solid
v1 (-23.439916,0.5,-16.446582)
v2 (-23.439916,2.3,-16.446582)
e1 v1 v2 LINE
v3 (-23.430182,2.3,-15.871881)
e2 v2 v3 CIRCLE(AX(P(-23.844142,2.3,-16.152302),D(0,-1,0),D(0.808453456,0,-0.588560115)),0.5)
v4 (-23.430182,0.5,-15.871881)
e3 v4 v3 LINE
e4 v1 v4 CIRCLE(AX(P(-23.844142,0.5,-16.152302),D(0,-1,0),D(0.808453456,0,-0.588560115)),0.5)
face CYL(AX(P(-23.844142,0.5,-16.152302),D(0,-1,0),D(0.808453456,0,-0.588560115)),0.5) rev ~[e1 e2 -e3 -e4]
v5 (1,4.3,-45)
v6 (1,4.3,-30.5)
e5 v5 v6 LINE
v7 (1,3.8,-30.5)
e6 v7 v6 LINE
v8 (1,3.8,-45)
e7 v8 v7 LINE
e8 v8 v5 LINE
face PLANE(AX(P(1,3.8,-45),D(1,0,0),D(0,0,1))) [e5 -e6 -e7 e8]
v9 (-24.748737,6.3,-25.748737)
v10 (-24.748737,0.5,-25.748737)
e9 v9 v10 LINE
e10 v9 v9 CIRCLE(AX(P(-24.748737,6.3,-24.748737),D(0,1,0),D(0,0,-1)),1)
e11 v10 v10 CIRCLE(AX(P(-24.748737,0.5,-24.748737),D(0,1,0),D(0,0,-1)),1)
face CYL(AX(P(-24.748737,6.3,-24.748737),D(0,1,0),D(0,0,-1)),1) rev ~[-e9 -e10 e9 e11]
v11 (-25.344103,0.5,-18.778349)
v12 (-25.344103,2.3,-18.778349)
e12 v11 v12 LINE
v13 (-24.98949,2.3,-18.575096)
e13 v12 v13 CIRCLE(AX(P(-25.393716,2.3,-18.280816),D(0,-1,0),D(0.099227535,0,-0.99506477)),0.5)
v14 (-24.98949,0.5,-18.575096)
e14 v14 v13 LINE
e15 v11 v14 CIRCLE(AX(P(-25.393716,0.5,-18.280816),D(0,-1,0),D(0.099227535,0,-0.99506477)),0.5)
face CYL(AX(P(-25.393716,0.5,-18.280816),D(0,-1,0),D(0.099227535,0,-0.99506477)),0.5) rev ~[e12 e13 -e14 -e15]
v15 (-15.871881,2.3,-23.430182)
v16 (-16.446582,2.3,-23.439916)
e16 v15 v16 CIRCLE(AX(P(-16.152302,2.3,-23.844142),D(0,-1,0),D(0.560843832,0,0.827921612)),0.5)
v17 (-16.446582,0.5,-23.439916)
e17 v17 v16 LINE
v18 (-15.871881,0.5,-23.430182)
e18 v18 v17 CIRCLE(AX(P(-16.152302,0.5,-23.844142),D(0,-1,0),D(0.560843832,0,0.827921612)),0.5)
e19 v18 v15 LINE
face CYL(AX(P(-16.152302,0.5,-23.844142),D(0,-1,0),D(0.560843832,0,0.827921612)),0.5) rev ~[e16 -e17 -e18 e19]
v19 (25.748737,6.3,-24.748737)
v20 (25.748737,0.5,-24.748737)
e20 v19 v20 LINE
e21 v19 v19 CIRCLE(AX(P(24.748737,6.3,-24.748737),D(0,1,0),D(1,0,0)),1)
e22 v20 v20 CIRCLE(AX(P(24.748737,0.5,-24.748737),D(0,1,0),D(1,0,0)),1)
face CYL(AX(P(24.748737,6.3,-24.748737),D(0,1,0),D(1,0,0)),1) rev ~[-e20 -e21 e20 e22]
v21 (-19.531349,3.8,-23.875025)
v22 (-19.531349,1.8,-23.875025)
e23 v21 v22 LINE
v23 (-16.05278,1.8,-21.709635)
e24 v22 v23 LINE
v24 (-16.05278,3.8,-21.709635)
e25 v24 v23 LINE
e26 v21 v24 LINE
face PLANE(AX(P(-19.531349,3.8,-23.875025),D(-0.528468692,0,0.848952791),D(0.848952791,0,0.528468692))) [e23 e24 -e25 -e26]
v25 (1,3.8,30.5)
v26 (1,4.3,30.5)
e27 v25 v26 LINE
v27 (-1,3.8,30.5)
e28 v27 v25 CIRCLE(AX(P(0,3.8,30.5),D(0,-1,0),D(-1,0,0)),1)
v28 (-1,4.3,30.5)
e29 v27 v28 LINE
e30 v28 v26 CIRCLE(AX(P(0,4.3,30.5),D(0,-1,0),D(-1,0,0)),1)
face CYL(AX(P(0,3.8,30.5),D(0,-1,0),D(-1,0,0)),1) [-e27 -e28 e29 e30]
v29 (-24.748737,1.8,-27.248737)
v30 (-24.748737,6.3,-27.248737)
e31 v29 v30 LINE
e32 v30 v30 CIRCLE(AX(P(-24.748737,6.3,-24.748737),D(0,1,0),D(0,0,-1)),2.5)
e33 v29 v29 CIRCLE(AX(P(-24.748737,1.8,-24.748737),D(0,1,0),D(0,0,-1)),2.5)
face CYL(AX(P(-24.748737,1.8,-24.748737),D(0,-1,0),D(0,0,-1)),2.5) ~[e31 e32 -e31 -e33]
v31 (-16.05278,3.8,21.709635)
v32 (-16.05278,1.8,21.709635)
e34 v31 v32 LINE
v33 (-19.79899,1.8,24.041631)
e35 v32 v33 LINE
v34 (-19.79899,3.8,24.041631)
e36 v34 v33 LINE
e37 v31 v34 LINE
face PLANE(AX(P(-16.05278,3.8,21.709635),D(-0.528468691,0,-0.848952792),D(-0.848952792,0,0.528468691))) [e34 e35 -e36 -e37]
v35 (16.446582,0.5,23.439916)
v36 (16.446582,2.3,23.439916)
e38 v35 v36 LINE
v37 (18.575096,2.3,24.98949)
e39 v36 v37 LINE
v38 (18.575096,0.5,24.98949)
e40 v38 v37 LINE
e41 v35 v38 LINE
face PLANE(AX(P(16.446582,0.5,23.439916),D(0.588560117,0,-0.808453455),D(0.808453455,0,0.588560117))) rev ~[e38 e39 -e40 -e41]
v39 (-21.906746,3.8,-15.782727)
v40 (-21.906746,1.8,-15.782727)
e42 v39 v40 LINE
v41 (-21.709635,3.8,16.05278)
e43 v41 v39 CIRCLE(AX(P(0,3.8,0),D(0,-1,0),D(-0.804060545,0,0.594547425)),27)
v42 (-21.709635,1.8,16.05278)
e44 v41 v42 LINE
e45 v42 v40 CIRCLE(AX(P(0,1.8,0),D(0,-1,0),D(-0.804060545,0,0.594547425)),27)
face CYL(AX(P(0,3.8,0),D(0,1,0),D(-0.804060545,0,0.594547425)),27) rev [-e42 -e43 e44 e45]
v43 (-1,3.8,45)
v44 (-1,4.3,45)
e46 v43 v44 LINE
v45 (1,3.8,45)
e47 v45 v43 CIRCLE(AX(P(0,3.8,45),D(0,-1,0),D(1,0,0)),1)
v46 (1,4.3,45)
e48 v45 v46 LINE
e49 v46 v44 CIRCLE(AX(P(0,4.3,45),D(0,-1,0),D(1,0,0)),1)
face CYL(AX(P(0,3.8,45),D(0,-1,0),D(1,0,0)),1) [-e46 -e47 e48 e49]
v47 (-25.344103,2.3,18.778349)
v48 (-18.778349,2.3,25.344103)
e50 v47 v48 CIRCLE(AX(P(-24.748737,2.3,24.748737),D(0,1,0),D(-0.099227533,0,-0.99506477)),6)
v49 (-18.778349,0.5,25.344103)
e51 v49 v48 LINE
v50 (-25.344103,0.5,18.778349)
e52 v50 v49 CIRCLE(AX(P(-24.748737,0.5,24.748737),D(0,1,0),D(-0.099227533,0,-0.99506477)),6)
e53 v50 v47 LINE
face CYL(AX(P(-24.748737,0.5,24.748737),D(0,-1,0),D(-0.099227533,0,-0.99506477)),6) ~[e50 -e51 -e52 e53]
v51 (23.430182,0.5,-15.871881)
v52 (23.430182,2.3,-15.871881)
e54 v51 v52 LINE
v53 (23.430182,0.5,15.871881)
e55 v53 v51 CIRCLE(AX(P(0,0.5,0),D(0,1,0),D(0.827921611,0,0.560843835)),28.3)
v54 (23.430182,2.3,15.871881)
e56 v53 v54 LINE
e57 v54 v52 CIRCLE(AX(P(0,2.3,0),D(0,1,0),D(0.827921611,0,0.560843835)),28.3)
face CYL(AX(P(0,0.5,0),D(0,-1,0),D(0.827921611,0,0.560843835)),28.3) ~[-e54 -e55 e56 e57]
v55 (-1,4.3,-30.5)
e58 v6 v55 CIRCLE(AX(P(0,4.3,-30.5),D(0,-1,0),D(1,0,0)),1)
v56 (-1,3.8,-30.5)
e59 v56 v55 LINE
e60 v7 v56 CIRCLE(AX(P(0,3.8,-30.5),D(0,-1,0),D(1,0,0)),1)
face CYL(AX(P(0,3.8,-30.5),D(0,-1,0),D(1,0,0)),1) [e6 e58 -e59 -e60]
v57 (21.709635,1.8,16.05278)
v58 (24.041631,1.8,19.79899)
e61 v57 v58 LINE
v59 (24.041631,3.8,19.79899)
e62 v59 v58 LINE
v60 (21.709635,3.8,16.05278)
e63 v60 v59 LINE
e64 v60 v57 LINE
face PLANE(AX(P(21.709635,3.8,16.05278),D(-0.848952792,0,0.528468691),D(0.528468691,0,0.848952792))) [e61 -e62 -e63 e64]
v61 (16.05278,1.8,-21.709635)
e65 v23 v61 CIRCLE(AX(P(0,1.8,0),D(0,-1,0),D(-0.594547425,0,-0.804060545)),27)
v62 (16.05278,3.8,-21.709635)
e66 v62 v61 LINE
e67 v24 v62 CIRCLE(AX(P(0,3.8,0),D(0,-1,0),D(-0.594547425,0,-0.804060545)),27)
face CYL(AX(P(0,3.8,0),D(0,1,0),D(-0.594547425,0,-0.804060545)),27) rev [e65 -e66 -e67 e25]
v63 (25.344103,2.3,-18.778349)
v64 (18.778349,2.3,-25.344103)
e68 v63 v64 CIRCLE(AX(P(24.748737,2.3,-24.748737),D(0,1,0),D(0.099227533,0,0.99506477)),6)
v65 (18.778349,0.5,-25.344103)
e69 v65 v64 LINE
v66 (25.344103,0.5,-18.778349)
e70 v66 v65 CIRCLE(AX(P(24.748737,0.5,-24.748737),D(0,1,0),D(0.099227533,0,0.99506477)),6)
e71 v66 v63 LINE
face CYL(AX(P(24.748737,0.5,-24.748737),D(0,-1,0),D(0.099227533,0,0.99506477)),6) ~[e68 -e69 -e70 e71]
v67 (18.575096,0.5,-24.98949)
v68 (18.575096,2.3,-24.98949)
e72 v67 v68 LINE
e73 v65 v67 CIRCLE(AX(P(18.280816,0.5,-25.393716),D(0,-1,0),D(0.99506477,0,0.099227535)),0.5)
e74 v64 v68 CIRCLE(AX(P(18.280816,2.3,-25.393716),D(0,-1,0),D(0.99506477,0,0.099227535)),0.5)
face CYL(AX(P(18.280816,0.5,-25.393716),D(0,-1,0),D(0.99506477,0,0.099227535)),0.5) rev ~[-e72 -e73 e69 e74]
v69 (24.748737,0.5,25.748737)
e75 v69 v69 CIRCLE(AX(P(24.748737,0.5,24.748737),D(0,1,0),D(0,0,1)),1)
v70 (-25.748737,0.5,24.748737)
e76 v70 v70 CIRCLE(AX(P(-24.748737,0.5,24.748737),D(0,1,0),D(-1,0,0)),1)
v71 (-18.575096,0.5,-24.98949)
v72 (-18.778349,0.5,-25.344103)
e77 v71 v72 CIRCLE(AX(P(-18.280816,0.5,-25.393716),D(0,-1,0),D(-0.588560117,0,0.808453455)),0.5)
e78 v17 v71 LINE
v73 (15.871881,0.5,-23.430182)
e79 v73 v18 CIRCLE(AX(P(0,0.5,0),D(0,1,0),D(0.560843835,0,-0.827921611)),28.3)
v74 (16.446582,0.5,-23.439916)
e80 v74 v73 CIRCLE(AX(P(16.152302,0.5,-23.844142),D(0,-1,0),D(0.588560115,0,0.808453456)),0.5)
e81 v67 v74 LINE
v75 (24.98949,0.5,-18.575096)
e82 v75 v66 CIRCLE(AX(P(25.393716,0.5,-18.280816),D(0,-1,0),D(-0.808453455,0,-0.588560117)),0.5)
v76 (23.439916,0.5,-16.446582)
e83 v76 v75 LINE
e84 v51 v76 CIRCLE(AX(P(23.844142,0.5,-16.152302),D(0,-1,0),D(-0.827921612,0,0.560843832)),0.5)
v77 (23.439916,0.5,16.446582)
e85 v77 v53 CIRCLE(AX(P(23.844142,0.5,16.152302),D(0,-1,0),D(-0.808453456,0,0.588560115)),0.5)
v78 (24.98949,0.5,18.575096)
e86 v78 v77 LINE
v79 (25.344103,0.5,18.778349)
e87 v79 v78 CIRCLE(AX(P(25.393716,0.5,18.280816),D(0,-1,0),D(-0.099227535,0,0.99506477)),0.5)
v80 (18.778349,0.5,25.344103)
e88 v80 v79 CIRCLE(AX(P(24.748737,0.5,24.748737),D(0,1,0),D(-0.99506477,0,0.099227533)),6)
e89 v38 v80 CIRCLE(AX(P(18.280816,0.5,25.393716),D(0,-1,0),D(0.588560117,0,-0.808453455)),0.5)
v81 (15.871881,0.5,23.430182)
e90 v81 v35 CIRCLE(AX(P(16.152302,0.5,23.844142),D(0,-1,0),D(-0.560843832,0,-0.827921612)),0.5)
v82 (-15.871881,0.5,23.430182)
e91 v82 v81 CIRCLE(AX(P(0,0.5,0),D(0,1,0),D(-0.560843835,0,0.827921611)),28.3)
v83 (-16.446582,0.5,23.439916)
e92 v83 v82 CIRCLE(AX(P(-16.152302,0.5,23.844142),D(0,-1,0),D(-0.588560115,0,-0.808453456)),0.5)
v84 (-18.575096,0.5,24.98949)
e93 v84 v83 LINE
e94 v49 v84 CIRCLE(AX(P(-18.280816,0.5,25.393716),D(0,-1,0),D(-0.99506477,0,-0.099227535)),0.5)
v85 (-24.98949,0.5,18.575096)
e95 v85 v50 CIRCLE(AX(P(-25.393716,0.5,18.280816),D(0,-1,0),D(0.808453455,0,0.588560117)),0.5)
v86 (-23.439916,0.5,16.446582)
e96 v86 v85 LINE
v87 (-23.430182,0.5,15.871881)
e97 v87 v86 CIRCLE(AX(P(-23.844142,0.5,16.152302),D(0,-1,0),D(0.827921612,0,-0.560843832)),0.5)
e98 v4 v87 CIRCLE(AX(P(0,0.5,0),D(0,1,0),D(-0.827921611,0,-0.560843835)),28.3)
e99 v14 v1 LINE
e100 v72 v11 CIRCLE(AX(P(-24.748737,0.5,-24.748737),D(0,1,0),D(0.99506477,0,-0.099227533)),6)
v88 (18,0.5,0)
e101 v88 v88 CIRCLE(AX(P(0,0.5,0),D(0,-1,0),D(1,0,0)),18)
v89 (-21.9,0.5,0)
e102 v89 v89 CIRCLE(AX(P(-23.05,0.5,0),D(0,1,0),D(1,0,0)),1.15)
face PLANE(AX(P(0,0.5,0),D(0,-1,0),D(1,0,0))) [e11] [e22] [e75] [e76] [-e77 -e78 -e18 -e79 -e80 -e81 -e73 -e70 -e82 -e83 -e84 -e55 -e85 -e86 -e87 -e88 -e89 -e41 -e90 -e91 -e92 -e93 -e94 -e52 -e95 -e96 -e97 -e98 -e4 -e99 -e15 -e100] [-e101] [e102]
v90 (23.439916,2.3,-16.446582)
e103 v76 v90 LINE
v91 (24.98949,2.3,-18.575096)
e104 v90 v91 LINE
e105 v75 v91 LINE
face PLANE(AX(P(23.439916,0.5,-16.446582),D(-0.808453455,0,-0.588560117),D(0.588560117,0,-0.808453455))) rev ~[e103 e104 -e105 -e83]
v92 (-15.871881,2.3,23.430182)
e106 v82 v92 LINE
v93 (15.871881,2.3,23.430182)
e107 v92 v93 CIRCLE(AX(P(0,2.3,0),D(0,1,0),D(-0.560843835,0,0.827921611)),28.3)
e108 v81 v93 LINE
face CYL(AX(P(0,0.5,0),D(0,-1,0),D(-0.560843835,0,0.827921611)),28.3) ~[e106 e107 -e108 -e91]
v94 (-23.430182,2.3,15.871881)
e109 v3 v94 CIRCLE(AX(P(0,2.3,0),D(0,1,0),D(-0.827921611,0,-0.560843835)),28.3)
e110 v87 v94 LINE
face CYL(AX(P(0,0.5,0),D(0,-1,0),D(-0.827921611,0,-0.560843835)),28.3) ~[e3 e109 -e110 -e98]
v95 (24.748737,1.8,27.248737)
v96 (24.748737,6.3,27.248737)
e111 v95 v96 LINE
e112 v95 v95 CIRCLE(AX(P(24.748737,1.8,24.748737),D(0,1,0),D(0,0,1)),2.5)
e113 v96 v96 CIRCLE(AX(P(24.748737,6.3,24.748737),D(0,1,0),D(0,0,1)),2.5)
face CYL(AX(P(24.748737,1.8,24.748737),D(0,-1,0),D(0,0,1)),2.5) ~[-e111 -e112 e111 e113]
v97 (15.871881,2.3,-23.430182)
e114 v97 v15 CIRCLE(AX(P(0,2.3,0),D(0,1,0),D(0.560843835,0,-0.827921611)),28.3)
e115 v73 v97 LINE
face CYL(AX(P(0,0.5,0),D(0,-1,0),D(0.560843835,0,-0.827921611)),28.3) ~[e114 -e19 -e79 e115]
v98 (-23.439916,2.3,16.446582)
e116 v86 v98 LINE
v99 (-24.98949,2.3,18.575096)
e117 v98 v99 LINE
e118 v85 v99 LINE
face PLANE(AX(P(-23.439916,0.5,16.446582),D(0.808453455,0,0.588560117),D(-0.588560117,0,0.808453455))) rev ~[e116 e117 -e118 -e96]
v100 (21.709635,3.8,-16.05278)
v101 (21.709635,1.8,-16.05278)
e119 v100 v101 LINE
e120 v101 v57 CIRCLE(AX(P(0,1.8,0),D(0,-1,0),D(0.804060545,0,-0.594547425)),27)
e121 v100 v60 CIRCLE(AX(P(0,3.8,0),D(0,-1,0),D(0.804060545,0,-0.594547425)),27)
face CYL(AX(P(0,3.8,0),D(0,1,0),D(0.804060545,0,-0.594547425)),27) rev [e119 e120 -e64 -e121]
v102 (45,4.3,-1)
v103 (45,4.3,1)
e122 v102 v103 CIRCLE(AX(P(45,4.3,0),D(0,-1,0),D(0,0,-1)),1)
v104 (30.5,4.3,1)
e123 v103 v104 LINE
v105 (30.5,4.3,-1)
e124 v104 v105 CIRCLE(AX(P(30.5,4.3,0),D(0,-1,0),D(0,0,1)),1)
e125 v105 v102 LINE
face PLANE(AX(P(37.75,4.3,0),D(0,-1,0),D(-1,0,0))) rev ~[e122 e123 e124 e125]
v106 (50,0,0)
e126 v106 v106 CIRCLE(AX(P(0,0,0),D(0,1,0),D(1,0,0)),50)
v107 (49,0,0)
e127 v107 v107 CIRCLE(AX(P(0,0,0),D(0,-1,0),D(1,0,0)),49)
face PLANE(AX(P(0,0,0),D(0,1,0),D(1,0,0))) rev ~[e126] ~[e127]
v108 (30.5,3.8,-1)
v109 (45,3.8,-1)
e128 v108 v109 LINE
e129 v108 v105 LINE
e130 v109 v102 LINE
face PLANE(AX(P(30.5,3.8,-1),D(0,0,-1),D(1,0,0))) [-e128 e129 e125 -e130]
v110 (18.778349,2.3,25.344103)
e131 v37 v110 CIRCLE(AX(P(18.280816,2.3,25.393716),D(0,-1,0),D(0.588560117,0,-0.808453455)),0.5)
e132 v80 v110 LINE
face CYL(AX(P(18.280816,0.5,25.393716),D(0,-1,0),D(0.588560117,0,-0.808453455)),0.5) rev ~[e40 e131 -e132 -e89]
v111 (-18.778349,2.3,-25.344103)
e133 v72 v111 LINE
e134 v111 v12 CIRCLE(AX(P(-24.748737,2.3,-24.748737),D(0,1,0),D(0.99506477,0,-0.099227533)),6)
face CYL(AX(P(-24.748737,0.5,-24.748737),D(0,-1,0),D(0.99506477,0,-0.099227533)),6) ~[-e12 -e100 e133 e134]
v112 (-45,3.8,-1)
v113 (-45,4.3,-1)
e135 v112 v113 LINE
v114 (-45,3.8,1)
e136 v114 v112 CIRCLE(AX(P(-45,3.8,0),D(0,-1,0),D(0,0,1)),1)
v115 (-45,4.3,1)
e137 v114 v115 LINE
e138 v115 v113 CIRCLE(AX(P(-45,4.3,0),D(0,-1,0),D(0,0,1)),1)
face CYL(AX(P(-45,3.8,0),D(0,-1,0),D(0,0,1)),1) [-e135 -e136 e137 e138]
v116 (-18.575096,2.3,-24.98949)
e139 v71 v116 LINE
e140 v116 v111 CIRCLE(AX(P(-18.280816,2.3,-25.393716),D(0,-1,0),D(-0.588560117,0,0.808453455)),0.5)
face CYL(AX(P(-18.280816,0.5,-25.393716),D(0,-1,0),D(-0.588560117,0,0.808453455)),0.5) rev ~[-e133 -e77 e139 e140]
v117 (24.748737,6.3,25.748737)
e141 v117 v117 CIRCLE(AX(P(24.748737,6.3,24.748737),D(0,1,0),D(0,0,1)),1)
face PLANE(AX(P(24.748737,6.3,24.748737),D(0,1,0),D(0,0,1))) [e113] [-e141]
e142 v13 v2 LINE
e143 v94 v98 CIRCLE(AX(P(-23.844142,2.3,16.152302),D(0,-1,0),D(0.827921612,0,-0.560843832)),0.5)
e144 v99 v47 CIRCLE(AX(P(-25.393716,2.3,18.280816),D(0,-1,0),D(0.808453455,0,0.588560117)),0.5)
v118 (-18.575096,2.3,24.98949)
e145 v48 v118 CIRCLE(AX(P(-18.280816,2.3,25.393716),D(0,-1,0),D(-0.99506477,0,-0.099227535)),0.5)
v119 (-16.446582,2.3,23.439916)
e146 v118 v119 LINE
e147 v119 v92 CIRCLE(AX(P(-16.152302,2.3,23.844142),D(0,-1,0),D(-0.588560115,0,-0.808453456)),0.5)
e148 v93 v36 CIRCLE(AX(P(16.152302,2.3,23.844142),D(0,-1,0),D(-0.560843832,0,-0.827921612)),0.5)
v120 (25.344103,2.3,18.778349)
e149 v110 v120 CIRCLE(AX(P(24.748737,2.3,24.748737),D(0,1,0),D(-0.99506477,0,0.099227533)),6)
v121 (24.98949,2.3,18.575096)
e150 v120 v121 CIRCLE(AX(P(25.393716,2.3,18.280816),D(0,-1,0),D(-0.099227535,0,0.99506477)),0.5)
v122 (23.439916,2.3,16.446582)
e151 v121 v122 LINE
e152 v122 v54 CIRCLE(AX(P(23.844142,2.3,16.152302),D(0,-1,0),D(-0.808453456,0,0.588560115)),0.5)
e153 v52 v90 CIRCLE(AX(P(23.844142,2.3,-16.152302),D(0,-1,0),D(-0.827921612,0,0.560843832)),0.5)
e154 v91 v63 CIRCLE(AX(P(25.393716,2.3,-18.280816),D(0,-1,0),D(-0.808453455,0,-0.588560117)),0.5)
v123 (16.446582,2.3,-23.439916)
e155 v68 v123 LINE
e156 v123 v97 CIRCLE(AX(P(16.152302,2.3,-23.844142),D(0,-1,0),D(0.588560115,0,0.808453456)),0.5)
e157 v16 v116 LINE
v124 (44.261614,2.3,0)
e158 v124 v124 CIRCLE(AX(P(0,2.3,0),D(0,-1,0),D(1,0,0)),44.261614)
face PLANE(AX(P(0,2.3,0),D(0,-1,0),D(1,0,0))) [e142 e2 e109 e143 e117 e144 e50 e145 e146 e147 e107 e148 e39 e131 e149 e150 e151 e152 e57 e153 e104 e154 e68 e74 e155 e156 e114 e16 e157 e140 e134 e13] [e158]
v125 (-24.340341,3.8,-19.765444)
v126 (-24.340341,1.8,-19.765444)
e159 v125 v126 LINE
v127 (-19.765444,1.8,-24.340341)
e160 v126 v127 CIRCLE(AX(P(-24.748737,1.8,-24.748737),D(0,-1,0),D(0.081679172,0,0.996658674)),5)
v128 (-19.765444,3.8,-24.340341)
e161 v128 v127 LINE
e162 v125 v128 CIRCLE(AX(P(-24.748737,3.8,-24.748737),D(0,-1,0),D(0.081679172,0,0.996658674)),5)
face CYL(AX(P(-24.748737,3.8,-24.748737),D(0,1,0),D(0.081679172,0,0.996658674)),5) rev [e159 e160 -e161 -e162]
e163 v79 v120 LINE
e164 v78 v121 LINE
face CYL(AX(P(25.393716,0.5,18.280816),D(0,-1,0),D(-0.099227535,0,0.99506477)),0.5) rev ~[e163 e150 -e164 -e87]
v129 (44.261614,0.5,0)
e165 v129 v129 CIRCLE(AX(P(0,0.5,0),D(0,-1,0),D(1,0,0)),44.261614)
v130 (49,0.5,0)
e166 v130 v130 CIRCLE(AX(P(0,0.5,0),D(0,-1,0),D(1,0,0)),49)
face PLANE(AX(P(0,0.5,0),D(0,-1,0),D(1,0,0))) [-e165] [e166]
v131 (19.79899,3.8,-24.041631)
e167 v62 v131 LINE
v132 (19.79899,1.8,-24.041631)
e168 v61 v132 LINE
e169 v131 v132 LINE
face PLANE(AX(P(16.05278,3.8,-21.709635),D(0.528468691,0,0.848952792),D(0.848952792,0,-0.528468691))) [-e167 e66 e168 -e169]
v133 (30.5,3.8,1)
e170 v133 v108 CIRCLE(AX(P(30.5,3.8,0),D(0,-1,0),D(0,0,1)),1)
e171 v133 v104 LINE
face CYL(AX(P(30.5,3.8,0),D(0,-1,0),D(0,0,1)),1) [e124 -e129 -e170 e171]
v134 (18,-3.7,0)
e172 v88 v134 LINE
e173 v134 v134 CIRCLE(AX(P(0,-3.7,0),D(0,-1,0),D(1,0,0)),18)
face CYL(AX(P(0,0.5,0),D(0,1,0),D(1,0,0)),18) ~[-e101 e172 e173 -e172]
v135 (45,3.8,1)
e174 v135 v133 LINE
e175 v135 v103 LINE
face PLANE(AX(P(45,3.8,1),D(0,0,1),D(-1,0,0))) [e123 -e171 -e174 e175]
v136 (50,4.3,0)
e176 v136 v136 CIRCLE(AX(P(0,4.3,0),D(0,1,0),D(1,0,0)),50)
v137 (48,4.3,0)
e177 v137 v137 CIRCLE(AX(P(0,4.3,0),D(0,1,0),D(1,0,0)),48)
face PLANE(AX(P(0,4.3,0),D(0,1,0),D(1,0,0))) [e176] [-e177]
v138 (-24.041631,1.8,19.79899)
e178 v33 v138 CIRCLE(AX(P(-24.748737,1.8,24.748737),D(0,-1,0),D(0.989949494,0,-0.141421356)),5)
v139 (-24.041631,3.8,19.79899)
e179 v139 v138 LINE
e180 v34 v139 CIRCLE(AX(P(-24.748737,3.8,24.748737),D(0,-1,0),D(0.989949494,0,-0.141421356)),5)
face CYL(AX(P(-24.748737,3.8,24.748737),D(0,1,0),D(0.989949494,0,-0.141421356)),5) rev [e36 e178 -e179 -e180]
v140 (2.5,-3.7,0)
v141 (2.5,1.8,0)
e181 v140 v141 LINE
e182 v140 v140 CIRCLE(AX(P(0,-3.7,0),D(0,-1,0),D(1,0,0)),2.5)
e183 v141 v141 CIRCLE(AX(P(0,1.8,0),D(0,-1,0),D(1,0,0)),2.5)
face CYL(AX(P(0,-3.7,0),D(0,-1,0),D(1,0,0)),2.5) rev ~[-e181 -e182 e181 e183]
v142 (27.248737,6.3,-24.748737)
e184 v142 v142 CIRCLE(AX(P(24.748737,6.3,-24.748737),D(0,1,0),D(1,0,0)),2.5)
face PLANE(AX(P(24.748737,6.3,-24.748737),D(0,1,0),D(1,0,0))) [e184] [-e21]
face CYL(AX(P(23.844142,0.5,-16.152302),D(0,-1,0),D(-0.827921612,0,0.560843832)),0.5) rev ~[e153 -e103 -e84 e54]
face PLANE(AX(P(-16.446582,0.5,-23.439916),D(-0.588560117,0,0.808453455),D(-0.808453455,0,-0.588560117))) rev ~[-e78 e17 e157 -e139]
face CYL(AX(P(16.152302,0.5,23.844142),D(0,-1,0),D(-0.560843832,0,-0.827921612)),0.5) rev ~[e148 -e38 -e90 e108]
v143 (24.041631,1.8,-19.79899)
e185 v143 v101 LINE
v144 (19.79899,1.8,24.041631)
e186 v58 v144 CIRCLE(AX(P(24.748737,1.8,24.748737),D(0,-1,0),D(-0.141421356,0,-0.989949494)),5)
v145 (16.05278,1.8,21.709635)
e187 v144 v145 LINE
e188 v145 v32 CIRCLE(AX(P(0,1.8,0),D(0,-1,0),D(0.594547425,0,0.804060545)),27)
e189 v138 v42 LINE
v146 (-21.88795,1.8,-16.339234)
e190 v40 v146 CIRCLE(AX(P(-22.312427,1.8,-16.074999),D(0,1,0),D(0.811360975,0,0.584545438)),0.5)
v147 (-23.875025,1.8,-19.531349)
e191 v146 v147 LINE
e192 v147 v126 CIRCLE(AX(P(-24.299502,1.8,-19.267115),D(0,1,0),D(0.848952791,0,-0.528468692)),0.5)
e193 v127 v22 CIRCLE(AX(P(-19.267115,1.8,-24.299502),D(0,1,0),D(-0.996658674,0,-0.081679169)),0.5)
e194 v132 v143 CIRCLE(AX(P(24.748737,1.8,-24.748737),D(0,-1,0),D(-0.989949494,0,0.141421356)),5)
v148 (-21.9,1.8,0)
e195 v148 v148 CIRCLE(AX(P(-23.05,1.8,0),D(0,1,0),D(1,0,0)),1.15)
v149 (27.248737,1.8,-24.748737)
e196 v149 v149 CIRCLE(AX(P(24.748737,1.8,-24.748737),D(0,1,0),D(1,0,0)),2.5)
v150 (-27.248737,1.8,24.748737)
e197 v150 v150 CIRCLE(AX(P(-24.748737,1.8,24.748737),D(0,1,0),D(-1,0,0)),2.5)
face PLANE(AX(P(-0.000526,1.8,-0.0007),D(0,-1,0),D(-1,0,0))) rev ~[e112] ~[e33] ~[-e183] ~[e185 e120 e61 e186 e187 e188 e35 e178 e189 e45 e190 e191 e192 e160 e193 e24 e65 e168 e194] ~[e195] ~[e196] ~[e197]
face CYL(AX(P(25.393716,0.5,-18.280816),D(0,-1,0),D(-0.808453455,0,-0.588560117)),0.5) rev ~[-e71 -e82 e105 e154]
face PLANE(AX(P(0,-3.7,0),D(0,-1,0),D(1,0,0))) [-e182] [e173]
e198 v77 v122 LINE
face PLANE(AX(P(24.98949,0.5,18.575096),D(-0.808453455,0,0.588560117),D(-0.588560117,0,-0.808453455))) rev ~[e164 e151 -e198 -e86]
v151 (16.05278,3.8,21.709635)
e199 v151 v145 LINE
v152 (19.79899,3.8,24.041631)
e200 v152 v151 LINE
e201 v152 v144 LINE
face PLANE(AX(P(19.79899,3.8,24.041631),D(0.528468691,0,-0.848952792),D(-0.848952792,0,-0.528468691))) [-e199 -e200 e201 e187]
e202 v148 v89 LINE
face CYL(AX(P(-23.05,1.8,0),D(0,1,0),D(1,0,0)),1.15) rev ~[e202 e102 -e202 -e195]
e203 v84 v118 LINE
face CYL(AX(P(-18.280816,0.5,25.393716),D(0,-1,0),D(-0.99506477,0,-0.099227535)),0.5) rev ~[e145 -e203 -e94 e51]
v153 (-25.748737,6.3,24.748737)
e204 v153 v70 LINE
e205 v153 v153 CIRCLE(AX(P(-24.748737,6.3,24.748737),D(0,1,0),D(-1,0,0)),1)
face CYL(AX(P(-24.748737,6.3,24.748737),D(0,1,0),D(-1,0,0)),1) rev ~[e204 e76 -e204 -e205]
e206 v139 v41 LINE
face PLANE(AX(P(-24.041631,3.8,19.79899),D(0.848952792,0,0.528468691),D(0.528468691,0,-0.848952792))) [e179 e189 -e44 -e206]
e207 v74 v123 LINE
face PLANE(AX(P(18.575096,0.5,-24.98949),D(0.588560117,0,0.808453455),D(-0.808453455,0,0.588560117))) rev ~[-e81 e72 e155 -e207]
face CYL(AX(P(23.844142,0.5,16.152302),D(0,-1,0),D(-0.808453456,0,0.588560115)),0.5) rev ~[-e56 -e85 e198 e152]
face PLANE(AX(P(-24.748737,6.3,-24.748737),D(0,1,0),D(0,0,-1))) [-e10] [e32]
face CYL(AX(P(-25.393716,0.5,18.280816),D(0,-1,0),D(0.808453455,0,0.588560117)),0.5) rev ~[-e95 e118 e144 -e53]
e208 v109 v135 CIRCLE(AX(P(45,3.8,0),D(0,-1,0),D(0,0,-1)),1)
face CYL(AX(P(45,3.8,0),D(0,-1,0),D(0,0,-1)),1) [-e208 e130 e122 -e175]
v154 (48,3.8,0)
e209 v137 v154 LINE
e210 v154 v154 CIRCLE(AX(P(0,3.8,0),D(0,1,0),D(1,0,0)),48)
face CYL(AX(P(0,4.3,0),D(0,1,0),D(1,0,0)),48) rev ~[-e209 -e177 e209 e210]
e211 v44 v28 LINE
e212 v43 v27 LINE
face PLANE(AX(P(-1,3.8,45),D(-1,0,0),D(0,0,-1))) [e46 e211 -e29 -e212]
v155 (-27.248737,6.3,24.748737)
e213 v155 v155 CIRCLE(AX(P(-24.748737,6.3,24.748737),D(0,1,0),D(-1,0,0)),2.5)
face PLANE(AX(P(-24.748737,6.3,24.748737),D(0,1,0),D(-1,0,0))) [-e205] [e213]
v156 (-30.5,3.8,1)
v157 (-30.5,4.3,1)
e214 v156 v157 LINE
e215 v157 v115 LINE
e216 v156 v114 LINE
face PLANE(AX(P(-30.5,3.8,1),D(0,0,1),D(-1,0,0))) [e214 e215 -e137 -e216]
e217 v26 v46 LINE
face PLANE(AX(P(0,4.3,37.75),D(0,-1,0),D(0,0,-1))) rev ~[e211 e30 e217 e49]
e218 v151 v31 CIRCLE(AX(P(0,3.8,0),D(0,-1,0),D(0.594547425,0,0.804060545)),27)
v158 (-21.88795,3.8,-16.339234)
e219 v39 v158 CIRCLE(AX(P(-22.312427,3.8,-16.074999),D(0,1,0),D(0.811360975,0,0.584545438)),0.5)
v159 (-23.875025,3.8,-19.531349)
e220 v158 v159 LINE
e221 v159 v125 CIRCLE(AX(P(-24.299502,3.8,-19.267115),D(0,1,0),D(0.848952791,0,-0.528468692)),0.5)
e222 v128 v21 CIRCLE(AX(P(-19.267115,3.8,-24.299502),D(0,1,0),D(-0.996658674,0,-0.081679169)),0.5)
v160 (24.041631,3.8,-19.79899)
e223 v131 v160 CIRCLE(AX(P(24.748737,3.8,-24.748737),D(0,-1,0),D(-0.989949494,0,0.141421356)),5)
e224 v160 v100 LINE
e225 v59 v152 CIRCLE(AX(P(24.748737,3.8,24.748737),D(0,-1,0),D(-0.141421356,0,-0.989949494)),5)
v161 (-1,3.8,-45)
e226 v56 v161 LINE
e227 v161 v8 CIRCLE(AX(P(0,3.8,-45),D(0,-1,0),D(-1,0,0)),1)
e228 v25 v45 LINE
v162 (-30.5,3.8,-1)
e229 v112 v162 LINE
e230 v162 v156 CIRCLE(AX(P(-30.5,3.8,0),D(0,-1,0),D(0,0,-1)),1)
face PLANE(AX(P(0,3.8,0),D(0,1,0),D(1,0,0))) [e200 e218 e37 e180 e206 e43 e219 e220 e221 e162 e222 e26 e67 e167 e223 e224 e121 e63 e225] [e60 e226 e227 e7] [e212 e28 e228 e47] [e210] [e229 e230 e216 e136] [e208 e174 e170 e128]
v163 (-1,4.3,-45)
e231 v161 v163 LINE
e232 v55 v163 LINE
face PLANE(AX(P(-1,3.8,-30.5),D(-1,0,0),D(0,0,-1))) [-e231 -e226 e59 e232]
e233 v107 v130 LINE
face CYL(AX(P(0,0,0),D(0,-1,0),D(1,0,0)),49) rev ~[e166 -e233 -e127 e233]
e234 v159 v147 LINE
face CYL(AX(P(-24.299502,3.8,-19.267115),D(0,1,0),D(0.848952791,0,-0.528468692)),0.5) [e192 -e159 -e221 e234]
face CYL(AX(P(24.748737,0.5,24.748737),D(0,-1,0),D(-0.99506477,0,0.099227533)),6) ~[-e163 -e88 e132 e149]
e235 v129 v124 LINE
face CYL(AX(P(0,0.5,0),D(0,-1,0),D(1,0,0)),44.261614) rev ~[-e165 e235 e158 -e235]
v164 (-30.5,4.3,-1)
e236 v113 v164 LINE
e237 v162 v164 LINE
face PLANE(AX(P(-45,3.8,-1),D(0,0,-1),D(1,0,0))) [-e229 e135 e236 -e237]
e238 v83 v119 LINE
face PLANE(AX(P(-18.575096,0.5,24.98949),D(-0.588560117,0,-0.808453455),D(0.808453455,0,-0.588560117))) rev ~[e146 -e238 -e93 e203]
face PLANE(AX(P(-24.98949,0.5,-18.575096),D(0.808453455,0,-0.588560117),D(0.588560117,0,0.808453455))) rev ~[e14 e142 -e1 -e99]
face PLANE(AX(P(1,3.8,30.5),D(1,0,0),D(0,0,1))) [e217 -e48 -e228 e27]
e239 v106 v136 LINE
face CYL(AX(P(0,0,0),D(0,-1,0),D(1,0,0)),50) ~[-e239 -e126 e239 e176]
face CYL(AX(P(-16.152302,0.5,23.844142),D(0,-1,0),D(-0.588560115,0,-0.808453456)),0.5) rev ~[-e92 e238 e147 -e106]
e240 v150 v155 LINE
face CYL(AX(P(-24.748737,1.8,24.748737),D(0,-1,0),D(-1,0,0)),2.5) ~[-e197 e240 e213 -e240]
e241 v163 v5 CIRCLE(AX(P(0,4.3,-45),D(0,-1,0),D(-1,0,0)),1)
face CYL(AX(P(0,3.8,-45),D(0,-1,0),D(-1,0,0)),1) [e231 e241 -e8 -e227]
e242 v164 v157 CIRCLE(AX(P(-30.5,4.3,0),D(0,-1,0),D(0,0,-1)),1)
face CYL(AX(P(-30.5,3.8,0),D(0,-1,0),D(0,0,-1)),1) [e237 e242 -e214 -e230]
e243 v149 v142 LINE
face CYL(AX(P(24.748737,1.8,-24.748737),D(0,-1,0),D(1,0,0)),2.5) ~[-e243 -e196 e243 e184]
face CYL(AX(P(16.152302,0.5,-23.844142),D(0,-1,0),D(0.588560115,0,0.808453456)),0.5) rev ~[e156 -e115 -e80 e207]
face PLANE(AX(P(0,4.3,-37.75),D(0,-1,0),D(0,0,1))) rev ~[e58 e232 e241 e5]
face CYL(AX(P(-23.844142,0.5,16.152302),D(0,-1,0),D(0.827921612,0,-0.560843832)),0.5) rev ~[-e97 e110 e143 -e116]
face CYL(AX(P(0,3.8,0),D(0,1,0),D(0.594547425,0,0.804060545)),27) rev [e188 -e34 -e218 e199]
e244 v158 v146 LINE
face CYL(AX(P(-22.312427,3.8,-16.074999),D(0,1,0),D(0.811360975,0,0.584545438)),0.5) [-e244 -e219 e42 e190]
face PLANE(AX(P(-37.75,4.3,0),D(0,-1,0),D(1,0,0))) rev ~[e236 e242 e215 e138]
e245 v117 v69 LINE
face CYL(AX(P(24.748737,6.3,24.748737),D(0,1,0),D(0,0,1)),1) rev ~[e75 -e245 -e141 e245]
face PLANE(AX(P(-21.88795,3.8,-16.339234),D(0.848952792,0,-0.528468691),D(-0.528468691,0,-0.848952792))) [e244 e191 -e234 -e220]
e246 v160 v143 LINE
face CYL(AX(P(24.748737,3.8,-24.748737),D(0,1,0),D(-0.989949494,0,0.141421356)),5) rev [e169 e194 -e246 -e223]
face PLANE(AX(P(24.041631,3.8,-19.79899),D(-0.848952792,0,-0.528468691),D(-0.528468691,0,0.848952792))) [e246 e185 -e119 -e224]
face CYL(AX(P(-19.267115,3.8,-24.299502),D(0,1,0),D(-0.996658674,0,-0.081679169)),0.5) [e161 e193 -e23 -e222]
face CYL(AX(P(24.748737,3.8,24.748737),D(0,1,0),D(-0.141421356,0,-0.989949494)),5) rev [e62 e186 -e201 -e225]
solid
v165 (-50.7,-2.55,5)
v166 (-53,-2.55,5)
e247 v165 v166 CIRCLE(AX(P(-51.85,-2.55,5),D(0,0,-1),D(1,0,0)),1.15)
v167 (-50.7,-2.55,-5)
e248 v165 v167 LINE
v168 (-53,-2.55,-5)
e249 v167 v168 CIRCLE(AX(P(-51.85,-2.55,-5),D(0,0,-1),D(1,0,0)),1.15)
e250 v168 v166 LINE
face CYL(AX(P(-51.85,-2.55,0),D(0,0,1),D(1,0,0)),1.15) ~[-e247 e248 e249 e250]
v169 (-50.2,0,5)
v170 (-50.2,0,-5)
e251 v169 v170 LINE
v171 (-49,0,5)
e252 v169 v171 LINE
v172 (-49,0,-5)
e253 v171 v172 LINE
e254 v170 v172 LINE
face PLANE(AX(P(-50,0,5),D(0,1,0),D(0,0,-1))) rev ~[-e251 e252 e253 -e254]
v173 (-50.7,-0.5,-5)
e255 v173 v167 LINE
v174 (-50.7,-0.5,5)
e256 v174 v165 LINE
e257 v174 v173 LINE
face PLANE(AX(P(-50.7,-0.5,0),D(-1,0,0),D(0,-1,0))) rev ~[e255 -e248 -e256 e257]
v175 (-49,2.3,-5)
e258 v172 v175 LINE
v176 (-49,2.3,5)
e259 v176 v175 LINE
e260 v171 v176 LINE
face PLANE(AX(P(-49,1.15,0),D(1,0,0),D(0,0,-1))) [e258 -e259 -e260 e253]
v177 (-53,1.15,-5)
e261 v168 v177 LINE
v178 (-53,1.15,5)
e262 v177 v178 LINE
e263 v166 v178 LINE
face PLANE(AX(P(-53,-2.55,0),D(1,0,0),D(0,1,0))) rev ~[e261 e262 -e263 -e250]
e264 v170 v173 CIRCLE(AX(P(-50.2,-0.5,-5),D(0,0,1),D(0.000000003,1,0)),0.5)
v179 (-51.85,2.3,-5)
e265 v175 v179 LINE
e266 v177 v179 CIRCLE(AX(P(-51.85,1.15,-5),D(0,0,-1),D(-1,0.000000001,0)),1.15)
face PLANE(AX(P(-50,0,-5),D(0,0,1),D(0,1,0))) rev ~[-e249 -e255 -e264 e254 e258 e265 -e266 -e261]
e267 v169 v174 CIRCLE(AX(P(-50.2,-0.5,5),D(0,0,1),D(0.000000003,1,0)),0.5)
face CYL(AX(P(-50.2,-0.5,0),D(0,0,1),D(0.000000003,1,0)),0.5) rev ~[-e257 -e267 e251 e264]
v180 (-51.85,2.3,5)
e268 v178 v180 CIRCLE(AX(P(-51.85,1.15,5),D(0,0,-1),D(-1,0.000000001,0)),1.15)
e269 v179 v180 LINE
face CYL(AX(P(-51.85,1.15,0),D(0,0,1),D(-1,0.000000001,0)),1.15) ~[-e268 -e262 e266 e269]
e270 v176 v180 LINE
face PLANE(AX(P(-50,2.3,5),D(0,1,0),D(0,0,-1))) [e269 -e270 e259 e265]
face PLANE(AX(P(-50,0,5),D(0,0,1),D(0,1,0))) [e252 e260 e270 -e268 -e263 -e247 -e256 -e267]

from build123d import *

# Parameters (mm, degrees)
SKETCH1_R                = 50
BOSS_EXTRUDE1_DEPTH      = 4.3
SKETCH3_R                = 48
CUT_EXTRUDE1_DEPTH       = 0.5
BOSS_EXTRUDE2_DEPTH      = 0.5
CIRPATTERN1_COUNT        = 4
CUT_EXTRUDE2_DEPTH       = 2
SKETCH6_R                = 2.5
BOSS_EXTRUDE3_DEPTH      = 4.5
CIRPATTERN2_COUNT        = 4
SKETCH7_R                = 1
CUT_EXTRUDE3_DEPTH       = 7.3
CIRPATTERN3_COUNT        = 4
SKETCH9_R                = 49
CUT_EXTRUDE5_DEPTH       = 0.5
SKETCH10_R               = 44.261614154
CUT_EXTRUDE10_DEPTH      = 1.8
SKETCH12_R               = 18
BOSS_EXTRUDE4_DEPTH      = 4.2
SKETCH13_R               = 2.5
CUT_EXTRUDE11_DEPTH      = 11
BOSS_EXTRUDE5_DEPTH      = 5
BOSS_EXTRUDE5_DEPTH_BACK = 5
SKETCH15_W               = 10
SKETCH15_H               = 2.3
BOSS_EXTRUDE6_DEPTH      = 1
SKETCH16_R               = 1.15
CUT_EXTRUDE12_DEPTH      = 6.5


with BuildPart() as part:
    # Sketch1 → Boss-Extrude1 (new body)
    with BuildSketch(Plane(origin=(0, 0, 0), x_dir=(1, 0, 0), z_dir=(0, 1, 0))):
        Circle(SKETCH1_R)
    extrude(amount=BOSS_EXTRUDE1_DEPTH)

    # Sketch3 → Cut-Extrude1 (cut)
    with BuildSketch(Plane(origin=(0, 4.3, 0), x_dir=(1, 0, 0), z_dir=(0, 1, 0))):
        Circle(SKETCH3_R)
    extrude(amount=-CUT_EXTRUDE1_DEPTH, mode=Mode.SUBTRACT)

    # Sketch4 → Boss-Extrude2 (add)
    with BuildSketch(Plane(origin=(0, 3.8, 0), x_dir=(1, 0, 0), z_dir=(0, 1, 0))):
        with BuildLine():
            Line((30.5, 1), (45, 1))
            ThreePointArc((45, 1), (46, 0), (45, -1))
            Line((45, -1), (30.5, -1))
            ThreePointArc((30.5, -1), (29.5, 0), (30.5, 1))
        make_face()
    boss_extrude2 = extrude(amount=BOSS_EXTRUDE2_DEPTH)

    # CirPattern1: Boss-Extrude2 ×4 about axis
    cirpattern1_axis = Axis((0, 0, 0), (0, 1, 0))
    for i in range(1, CIRPATTERN1_COUNT):
        add(boss_extrude2.rotate(cirpattern1_axis, i * 360 / CIRPATTERN1_COUNT))

    # Sketch5 → Cut-Extrude2 (cut)
    with BuildSketch(Plane(origin=(0, 3.8, 0), x_dir=(1, 0, 0), z_dir=(0, 1, 0))):
        with BuildLine():
            Line((19.798989873, -24.04163056), (16.052780464, -21.709634713))
            ThreePointArc((16.052780464, -21.709634713), (0, -27), (-16.052780464, -21.709634713))
            Line((-16.052780464, -21.709634713), (-19.798989873, -24.04163056))
            ThreePointArc((-19.798989873, -24.04163056), (-28.284271247, -28.284271247), (-24.04163056, -19.798989873))
            Line((-24.04163056, -19.798989873), (-21.709634713, -16.052780464))
            ThreePointArc((-21.709634713, -16.052780464), (-26.999482486, -0.167169073), (-21.906746352, 15.78272677))
            ThreePointArc((-21.906746352, 15.78272677), (-21.81271178, 16.058121718), (-21.887950444, 16.339233833))
            Line((-21.887950444, 16.339233833), (-23.875025498, 19.531348979))
            ThreePointArc((-23.875025498, 19.531348979), (-24.074792266, 19.713775112), (-24.34034148, 19.765443971))
            ThreePointArc((-24.34034148, 19.765443971), (-28.284271247, 28.284271247), (-19.765443971, 24.34034148))
            ThreePointArc((-19.765443971, 24.34034148), (-19.713775112, 24.074792266), (-19.531348979, 23.875025498))
            Line((-19.531348979, 23.875025498), (-16.052780464, 21.709634713))
            ThreePointArc((-16.052780464, 21.709634713), (0, 27), (16.052780464, 21.709634713))
            Line((16.052780464, 21.709634713), (19.798989873, 24.04163056))
            ThreePointArc((19.798989873, 24.04163056), (28.284271247, 28.284271247), (24.04163056, 19.798989873))
            Line((24.04163056, 19.798989873), (21.709634713, 16.052780464))
            ThreePointArc((21.709634713, 16.052780464), (27, 0), (21.709634713, -16.052780464))
            Line((21.709634713, -16.052780464), (24.04163056, -19.798989873))
            ThreePointArc((24.04163056, -19.798989873), (28.284271247, -28.284271247), (19.798989873, -24.04163056))
        make_face()
    extrude(amount=-CUT_EXTRUDE2_DEPTH, mode=Mode.SUBTRACT)

    # Sketch6 → Boss-Extrude3 (add)
    with BuildSketch(Plane(origin=(0, 1.8, 0), x_dir=(1, 0, 0), z_dir=(0, 1, 0))):
        with Locations((24.748737342, 24.748737342)):
            Circle(SKETCH6_R)
    boss_extrude3 = extrude(amount=BOSS_EXTRUDE3_DEPTH)

    # CirPattern2: Boss-Extrude3 ×4 about axis
    cirpattern2_axis = Axis((0, 0, 0), (0, 1, 0))
    for i in range(1, CIRPATTERN2_COUNT):
        add(boss_extrude3.rotate(cirpattern2_axis, i * 360 / CIRPATTERN2_COUNT))

    # Sketch7 → Cut-Extrude3 (cut, through all)
    with BuildSketch(Plane(origin=(0, 6.3, 0), x_dir=(1, 0, 0), z_dir=(0, 1, 0))):
        with Locations((24.748737342, 24.748737342)):
            Circle(SKETCH7_R)
    cut_extrude3 = extrude(amount=-CUT_EXTRUDE3_DEPTH, mode=Mode.SUBTRACT)

    # CirPattern3: Cut-Extrude3 ×4 about axis
    cirpattern3_axis = Axis((0, 0, 0), (0, 1, 0))
    for i in range(1, CIRPATTERN3_COUNT):
        add(cut_extrude3.rotate(cirpattern3_axis, i * 360 / CIRPATTERN3_COUNT), mode=Mode.SUBTRACT)

    # Sketch9 → Cut-Extrude5 (cut)
    with BuildSketch(Plane.XZ):
        Circle(SKETCH9_R)
    extrude(amount=-CUT_EXTRUDE5_DEPTH, mode=Mode.SUBTRACT)

    # Sketch10 → Cut-Extrude10 (cut)
    with BuildSketch(Plane.XZ.offset(-0.5)):
        Circle(SKETCH10_R)
        with BuildLine():
            Line((16.446582493, 23.439915657), (18.575096394, 24.989489579))
            ThreePointArc((18.575096394, 24.989489579), (18.714612745, 25.145078668), (18.778348721, 25.34410254))
            ThreePointArc((18.778348721, 25.34410254), (28.991378029, 28.991378029), (25.34410254, 18.778348721))
            ThreePointArc((25.34410254, 18.778348721), (25.145078668, 18.714612745), (24.989489579, 18.575096394))
            Line((24.989489579, 18.575096394), (23.439915657, 16.446582493))
            ThreePointArc((23.439915657, 16.446582493), (23.34421409, 16.160770025), (23.430181579, 15.871880517))
            ThreePointArc((23.430181579, 15.871880517), (28.3, 0), (23.430181579, -15.871880517))
            ThreePointArc((23.430181579, -15.871880517), (23.34421409, -16.160770025), (23.439915657, -16.446582493))
            Line((23.439915657, -16.446582493), (24.989489579, -18.575096394))
            ThreePointArc((24.989489579, -18.575096394), (25.145078668, -18.714612745), (25.34410254, -18.778348721))
            ThreePointArc((25.34410254, -18.778348721), (28.991378029, -28.991378029), (18.778348721, -25.34410254))
            ThreePointArc((18.778348721, -25.34410254), (18.714612745, -25.145078668), (18.575096394, -24.989489579))
            Line((18.575096394, -24.989489579), (16.446582493, -23.439915657))
            ThreePointArc((16.446582493, -23.439915657), (16.160770025, -23.34421409), (15.871880517, -23.430181579))
            ThreePointArc((15.871880517, -23.430181579), (0, -28.3), (-15.871880517, -23.430181579))
            ThreePointArc((-15.871880517, -23.430181579), (-16.160770025, -23.34421409), (-16.446582493, -23.439915657))
            Line((-16.446582493, -23.439915657), (-18.575096394, -24.989489579))
            ThreePointArc((-18.575096394, -24.989489579), (-18.714612745, -25.145078668), (-18.778348721, -25.34410254))
            ThreePointArc((-18.778348721, -25.34410254), (-28.991378029, -28.991378029), (-25.34410254, -18.778348721))
            ThreePointArc((-25.34410254, -18.778348721), (-25.145078668, -18.714612745), (-24.989489579, -18.575096394))
            Line((-24.989489579, -18.575096394), (-23.439915657, -16.446582493))
            ThreePointArc((-23.439915657, -16.446582493), (-23.34421409, -16.160770025), (-23.430181579, -15.871880517))
            ThreePointArc((-23.430181579, -15.871880517), (-28.3, 0), (-23.430181579, 15.871880517))
            ThreePointArc((-23.430181579, 15.871880517), (-23.34421409, 16.160770025), (-23.439915657, 16.446582493))
            Line((-23.439915657, 16.446582493), (-24.989489579, 18.575096394))
            ThreePointArc((-24.989489579, 18.575096394), (-25.145078668, 18.714612745), (-25.34410254, 18.778348721))
            ThreePointArc((-25.34410254, 18.778348721), (-28.991378029, 28.991378029), (-18.778348721, 25.34410254))
            ThreePointArc((-18.778348721, 25.34410254), (-18.714612745, 25.145078668), (-18.575096394, 24.989489579))
            Line((-18.575096394, 24.989489579), (-16.446582493, 23.439915657))
            ThreePointArc((-16.446582493, 23.439915657), (-16.160770025, 23.34421409), (-15.871880517, 23.430181579))
            ThreePointArc((-15.871880517, 23.430181579), (0, 28.3), (15.871880517, 23.430181579))
            ThreePointArc((15.871880517, 23.430181579), (16.160770025, 23.34421409), (16.446582493, 23.439915657))
        make_face(mode=Mode.SUBTRACT)
    extrude(amount=-CUT_EXTRUDE10_DEPTH, mode=Mode.SUBTRACT)

    # Sketch12 → Boss-Extrude4 (add)
    with BuildSketch(Plane.XZ.offset(-0.5)):
        Circle(SKETCH12_R)
    extrude(amount=BOSS_EXTRUDE4_DEPTH)

    # Sketch13 → Cut-Extrude11 (cut, through all)
    with BuildSketch(Plane.XZ.offset(3.7)):
        Circle(SKETCH13_R)
    extrude(amount=-CUT_EXTRUDE11_DEPTH, mode=Mode.SUBTRACT)

    # Sketch16 → Cut-Extrude12 (cut, through all)
    with BuildSketch(Plane(origin=(0, 1.8, 0), x_dir=(1, 0, 0), z_dir=(0, 1, 0))):
        with Locations((-23.05, 0)):
            Circle(SKETCH16_R)
    extrude(amount=-CUT_EXTRUDE12_DEPTH, mode=Mode.SUBTRACT)


with BuildPart() as body_2:
    # Sketch14 → Boss-Extrude5 (new body, two sides)
    with BuildSketch(Plane.XY) as boss_extrude5_sk:
        with BuildLine():
            Line((-51.85, 2.3), (-50, 2.3))
            Line((-50, 2.3), (-50, 0))
            Line((-50, 0), (-50.2, 0))
            ThreePointArc((-50.2, 0), (-50.553553391, -0.146446609), (-50.7, -0.5))
            Line((-50.7, -0.5), (-50.7, -2.55))
            ThreePointArc((-50.7, -2.55), (-51.85, -3.7), (-53, -2.55))
            Line((-53, -2.55), (-53, 1.15))
            ThreePointArc((-53, 1.15), (-52.663172798, 1.963172798), (-51.85, 2.3))
        make_face()
    extrude(amount=BOSS_EXTRUDE5_DEPTH)
    extrude(boss_extrude5_sk.sketch, amount=-BOSS_EXTRUDE5_DEPTH_BACK)

    # Sketch15 → Boss-Extrude6 (add)
    with BuildSketch(Plane(origin=(-50, 0, 0), x_dir=(0, 0, -1), z_dir=(1, 0, 0))):
        with Locations((0, 1.15)):
            Rectangle(SKETCH15_W, SKETCH15_H)
    extrude(amount=BOSS_EXTRUDE6_DEPTH)


solid = Compound([part.part, body_2.part])
